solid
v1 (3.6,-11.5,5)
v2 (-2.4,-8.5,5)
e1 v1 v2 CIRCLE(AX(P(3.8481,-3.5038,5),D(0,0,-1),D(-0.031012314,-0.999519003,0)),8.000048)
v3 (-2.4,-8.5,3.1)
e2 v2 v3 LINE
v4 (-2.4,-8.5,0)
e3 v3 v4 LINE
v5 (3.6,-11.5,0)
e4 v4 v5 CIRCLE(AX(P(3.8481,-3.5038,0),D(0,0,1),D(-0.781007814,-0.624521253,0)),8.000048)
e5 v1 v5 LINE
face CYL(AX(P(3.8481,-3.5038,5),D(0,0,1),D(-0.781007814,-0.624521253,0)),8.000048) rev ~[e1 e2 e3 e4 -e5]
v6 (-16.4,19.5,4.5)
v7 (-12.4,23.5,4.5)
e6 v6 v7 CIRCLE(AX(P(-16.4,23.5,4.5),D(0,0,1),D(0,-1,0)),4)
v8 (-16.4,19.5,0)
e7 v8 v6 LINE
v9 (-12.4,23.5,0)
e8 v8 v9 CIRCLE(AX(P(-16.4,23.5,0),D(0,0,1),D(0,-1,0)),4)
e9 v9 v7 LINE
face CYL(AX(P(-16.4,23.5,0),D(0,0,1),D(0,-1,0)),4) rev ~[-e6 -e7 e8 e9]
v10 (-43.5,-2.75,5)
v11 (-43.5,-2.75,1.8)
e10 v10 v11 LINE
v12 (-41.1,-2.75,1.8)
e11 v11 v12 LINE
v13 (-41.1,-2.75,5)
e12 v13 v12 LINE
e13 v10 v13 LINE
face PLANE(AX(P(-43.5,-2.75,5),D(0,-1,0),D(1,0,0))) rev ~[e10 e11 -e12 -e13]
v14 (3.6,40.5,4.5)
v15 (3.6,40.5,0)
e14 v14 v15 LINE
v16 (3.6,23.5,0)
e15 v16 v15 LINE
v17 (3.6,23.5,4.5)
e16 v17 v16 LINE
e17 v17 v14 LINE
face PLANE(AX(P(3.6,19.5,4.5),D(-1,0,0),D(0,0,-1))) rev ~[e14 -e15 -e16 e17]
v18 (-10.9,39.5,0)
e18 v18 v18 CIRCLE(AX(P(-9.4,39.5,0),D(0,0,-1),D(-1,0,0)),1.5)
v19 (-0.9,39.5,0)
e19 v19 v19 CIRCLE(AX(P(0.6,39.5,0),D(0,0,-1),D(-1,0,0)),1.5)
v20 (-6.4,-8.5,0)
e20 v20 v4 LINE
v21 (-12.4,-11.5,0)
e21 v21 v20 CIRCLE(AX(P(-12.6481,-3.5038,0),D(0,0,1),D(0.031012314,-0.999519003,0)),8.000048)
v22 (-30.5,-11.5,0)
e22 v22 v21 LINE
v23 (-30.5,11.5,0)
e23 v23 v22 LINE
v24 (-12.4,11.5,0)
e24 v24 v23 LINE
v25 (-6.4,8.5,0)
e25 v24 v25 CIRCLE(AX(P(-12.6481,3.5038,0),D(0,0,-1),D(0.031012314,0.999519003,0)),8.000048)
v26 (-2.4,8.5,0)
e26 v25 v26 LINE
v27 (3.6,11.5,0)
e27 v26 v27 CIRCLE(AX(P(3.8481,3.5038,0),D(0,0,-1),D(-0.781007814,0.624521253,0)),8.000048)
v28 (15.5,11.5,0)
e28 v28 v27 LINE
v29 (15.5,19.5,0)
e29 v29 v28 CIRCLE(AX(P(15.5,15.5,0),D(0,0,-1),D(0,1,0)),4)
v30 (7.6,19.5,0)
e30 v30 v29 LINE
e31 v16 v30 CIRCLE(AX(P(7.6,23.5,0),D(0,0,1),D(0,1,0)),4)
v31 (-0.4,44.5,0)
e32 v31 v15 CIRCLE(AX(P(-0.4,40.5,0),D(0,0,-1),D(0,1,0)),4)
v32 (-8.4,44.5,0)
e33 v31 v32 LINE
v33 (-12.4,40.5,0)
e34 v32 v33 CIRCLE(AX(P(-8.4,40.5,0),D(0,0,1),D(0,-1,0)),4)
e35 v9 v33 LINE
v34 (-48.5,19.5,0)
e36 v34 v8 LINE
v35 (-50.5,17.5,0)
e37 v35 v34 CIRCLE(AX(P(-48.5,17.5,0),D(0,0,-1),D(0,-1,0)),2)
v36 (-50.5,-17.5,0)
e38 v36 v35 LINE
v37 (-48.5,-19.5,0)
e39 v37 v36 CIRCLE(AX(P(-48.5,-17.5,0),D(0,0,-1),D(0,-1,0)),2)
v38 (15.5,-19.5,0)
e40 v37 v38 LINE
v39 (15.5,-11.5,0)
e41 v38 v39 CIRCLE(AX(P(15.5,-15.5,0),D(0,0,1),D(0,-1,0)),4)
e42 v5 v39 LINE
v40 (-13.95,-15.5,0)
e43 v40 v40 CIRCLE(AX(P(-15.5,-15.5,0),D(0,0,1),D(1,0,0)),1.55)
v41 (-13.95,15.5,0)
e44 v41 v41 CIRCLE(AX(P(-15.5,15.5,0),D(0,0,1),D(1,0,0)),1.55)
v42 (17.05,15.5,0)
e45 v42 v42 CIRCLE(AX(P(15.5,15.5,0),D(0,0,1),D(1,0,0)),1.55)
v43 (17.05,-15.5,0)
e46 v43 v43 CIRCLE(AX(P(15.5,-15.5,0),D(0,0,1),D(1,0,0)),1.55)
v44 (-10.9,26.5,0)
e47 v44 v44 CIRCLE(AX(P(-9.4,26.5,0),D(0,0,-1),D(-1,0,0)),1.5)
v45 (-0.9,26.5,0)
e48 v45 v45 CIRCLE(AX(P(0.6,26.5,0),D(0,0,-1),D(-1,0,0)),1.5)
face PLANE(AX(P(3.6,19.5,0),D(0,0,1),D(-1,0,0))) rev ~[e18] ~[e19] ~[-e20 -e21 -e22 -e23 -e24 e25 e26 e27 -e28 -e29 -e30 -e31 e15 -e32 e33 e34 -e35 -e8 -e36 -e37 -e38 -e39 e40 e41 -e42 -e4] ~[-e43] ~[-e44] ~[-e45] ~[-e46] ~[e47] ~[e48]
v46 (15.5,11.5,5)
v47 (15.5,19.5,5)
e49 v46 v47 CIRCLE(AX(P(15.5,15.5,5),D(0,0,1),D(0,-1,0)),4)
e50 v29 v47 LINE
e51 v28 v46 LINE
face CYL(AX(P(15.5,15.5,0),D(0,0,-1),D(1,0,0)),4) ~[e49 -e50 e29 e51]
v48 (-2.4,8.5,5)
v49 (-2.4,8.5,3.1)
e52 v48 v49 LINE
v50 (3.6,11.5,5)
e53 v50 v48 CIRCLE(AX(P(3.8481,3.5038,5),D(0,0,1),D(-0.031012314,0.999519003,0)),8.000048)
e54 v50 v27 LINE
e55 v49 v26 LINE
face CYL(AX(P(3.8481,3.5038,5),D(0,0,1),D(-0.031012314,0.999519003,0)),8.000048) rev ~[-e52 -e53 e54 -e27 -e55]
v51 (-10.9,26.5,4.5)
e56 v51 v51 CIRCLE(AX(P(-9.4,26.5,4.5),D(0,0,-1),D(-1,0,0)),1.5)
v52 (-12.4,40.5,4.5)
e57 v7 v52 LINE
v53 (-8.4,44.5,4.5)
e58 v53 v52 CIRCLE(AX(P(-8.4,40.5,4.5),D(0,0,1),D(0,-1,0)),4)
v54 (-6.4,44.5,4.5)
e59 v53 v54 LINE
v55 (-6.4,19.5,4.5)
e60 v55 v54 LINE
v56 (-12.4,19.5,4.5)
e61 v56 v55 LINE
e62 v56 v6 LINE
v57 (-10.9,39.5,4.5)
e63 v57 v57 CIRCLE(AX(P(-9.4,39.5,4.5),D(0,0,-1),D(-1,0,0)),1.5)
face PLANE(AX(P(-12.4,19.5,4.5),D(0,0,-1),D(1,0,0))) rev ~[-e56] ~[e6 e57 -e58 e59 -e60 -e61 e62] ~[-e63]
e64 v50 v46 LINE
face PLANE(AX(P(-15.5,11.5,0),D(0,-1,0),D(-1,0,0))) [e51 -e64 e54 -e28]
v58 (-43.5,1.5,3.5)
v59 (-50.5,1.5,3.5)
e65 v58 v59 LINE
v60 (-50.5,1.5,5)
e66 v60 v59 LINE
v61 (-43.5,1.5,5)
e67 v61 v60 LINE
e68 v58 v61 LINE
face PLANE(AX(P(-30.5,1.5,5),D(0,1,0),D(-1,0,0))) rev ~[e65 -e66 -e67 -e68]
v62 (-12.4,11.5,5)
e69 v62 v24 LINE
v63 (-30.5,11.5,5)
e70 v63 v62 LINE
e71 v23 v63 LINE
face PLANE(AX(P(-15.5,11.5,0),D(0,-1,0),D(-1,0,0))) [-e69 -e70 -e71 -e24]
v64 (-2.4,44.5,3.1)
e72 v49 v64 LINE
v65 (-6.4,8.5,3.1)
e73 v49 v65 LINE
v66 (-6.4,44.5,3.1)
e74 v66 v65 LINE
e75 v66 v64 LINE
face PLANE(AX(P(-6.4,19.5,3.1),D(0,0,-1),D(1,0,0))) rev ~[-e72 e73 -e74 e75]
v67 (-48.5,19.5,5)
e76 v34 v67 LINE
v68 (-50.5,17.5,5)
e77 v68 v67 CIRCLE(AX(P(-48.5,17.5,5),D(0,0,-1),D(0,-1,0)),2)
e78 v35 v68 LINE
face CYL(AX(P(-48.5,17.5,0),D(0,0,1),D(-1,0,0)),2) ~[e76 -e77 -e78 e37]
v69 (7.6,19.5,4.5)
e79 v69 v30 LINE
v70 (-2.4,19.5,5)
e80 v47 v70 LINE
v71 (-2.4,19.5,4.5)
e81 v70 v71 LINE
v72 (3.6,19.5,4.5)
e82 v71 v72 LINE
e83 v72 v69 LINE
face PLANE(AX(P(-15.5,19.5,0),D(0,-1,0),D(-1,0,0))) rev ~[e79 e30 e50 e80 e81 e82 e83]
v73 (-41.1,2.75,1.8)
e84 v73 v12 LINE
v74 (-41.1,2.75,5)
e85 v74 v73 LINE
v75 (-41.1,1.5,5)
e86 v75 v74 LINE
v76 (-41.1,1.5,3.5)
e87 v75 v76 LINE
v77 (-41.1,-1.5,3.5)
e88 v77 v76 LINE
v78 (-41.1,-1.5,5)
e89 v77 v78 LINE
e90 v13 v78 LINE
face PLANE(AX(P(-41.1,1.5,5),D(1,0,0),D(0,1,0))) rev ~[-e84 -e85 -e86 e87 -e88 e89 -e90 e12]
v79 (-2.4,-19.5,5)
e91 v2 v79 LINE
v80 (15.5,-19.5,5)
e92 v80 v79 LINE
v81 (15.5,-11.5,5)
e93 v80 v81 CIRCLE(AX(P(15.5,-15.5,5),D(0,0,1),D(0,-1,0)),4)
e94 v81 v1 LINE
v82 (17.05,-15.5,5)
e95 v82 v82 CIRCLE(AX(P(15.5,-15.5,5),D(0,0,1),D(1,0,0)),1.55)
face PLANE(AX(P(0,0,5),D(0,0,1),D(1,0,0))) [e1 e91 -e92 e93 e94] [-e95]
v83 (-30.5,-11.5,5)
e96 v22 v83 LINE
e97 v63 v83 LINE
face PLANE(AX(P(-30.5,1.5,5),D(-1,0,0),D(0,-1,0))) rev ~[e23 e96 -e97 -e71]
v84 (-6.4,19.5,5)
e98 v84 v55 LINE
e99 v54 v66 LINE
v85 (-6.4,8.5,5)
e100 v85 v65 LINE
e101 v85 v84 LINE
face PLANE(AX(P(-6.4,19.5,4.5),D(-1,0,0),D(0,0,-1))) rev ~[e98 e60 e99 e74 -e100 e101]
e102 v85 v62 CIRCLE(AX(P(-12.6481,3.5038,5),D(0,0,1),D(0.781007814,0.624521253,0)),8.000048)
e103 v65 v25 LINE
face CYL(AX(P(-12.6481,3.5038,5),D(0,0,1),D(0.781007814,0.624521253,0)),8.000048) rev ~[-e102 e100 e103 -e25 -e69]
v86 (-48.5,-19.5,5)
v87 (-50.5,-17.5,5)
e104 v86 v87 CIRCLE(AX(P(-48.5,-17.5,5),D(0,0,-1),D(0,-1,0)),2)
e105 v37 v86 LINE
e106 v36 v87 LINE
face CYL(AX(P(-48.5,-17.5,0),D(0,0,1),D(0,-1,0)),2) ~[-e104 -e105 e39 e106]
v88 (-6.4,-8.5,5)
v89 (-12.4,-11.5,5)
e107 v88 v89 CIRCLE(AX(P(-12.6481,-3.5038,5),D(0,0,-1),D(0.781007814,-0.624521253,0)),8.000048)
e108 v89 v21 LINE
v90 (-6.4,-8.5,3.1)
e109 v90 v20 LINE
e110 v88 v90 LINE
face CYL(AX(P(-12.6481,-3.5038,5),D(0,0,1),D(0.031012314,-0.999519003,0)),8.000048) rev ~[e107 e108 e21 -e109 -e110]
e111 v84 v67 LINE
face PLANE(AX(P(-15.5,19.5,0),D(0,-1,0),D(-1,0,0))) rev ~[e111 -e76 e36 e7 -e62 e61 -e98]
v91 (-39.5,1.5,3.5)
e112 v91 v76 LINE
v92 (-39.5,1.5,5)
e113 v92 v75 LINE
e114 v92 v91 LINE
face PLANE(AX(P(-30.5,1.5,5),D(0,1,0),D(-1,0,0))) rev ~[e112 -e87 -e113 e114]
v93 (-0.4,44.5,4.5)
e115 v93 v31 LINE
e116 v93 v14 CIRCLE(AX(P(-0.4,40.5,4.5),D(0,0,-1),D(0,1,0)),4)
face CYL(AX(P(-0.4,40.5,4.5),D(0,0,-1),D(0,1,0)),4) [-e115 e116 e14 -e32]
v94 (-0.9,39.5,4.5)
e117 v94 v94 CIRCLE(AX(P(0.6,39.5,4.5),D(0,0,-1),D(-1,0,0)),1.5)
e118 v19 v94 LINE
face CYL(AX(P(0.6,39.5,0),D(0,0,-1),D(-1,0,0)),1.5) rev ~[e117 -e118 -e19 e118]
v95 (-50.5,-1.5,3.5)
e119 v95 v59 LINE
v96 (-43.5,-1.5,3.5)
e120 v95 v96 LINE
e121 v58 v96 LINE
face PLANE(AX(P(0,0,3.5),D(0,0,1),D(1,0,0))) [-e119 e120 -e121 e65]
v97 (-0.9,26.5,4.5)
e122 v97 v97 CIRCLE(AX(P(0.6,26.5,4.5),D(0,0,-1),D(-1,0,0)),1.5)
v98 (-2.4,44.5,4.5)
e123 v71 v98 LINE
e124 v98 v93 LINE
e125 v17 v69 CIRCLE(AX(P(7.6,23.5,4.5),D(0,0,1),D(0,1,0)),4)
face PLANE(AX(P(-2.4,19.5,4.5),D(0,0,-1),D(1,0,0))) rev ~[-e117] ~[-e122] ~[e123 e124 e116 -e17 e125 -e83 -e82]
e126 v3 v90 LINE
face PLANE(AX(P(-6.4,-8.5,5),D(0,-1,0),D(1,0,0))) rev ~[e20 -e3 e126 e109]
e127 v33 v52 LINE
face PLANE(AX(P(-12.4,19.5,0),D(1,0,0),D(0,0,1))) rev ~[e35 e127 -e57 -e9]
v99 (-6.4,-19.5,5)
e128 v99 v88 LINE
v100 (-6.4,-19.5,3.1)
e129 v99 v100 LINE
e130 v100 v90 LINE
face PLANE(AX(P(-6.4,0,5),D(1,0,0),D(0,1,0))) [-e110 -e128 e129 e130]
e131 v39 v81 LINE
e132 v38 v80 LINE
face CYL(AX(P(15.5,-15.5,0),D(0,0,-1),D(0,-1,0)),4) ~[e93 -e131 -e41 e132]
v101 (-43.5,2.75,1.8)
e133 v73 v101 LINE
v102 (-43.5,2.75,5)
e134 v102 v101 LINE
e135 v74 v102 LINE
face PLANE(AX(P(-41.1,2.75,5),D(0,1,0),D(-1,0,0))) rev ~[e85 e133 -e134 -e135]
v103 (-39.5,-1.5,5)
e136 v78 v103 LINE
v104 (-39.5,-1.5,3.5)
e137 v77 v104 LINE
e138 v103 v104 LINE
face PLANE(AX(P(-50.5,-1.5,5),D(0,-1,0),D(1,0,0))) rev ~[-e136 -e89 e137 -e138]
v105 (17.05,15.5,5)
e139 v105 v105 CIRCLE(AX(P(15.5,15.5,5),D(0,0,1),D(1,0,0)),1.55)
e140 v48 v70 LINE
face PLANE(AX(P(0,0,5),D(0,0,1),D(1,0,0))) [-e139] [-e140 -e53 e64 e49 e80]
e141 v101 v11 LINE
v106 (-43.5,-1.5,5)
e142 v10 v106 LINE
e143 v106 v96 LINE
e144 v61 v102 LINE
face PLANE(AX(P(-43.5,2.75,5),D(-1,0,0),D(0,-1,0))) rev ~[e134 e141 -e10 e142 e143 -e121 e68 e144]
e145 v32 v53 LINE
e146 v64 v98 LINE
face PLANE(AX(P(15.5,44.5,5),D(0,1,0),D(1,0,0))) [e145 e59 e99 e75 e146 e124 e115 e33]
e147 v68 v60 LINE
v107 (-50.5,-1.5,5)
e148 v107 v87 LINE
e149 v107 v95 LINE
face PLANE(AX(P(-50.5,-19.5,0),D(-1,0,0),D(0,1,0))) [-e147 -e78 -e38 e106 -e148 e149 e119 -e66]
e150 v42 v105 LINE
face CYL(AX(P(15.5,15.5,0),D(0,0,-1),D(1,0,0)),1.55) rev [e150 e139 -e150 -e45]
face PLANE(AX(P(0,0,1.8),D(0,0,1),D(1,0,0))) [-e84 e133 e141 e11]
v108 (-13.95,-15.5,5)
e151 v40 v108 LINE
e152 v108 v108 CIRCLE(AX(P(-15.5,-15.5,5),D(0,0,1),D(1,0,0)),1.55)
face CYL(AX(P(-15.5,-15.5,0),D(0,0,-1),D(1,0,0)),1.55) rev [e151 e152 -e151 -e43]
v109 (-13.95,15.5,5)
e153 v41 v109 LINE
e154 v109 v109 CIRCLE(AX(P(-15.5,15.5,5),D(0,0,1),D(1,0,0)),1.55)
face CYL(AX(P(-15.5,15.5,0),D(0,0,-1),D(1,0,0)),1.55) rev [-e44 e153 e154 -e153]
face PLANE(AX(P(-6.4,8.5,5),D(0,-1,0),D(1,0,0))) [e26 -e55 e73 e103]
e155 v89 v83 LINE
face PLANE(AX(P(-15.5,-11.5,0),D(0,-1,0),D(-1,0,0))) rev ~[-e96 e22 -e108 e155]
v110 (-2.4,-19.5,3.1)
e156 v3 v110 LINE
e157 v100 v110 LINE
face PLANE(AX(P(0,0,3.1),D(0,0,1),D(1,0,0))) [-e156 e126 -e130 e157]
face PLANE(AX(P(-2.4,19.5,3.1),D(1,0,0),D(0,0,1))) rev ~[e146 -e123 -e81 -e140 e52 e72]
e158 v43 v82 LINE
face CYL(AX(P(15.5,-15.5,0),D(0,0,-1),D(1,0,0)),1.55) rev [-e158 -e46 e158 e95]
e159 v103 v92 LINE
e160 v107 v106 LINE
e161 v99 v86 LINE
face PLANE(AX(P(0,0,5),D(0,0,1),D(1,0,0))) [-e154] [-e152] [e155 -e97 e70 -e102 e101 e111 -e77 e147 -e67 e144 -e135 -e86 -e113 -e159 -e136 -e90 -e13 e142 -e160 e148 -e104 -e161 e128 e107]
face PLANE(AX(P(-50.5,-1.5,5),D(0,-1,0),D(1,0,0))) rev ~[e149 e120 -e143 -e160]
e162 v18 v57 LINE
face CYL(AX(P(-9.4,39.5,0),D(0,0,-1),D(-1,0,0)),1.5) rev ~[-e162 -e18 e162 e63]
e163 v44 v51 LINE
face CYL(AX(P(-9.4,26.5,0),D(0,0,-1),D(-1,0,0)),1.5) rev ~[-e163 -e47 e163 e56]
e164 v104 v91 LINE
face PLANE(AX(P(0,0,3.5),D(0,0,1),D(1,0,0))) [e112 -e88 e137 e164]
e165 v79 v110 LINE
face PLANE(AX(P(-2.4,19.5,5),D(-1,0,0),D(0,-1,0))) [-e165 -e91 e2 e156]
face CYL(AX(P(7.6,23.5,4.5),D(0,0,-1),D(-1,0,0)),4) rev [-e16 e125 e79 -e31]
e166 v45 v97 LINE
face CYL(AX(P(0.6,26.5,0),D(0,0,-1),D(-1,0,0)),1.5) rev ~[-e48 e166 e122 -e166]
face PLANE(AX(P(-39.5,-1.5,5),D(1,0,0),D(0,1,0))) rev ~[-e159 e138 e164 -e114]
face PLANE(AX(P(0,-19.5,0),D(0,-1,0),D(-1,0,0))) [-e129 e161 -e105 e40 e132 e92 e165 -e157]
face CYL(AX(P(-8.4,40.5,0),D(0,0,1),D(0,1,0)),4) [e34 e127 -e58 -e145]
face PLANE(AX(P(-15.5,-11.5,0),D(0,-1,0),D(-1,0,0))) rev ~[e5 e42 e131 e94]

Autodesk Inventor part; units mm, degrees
ref_plane "YZ Plane" through (0, 0, 0) normal (1, 0, 0) x (0, 1, 0)
ref_plane "XZ Plane" through (0, 0, 0) normal (0, 1, 0) x (-1, 0, 0)
sketch "Skizze1" plane through (0, 0, 0) normal (0, 0, 1) x (1, 0, 0)
  line L0 (0, -27.3) -> (0, 27.3) projected
  line L1 (-71.7, 0) -> (34.7, 0) projected
  circle A0 centre (-15.5, 15.5) radius 1.55
  circle A1 centre (15.5, 15.5) radius 1.55
  circle A2 centre (-15.5, -15.5) radius 1.55
  circle A3 centre (15.5, -15.5) radius 1.55
  circle A4 centre (-16.5, 0) radius 11
  circle A5 centre (0, 0) radius 5.5
  circle A6 centre (-16.5, 0) radius 4
  arc A7 (-16.5, -7.5) -> (-16.5, 7.5) centre (-16.5, 0) ccw
  line L2 (-16.5, 7.5) -> (-36.5, 7.5)
  line L3 (-36.5, 7.5) -> (-56.5, 7.5)
  line L4 (-56.5, 7.5) -> (-56.5, -7.5)
  line L5 (-56.5, -7.5) -> (-16.5, -7.5)
  circle A8 centre (15.5, 15.5) radius 4
  circle A9 centre (-15.5, 15.5) radius 4
  line L6 (15.5, 11.5) -> (-15.5, 11.5)
  line L7 (15.5, 19.5) -> (-15.5, 19.5)
  line L8 (-15.5, 19.5) -> (-50.5, 19.5)
  line L9 (-15.5, 11.5) -> (-30.5, 11.5)
  line L10 (-50.5, 19.5) -> (-50.5, 0)
  line L11 (-30.5, 11.5) -> (-30.5, 0)
  line L12 (-15.5, -19.5) -> (-50.5, -19.5)
  line L13 (-15.5, -11.5) -> (-30.5, -11.5)
  line L14 (-50.5, -19.5) -> (-50.5, 0)
  line L15 (-30.5, -11.5) -> (-30.5, 0)
  line L16 (15.5, -11.5) -> (-15.5, -11.5)
  line L17 (15.5, -19.5) -> (-15.5, -19.5)
  line L18 (-15.5, -11.5) -> (15.5, -11.5)
  line L19 (15.5, -19.5) -> (-15.5, -19.5)
  line L20 (-30.5, -11.5) -> (15.5, -11.5)
  line L21 (15.5, -19.5) -> (-50.5, -19.5)
  arc A10 (15.5, -19.5) -> (15.5, -11.5) centre (15.5, -15.5) ccw
  point P0 (-50.5, 7.5)
  point P1 (-30.5, 7.5)
  dimension "d0" = 3.1
  dimension "d1" = 15.5
  dimension "d2" = 15.5
  dimension "d3" = 22
  dimension "d4" = 16.5
  dimension "d5" = 11
  dimension "d6" = 8
  dimension "d7" = 15
  dimension "d10" = 15
  dimension "d11" = 40
  dimension "d17" = 8
  dimension "d19" = 8
  dimension "d22" = 35
  dimension "d23" = 15
ref_plane "Arbeitsebene1" through (0, 0, 5) normal (0, 0, 1) x (1, 0, 0)
extrude "Extrusion5" add sketch "Skizze1" along normal blind 5 contours L17 L12 L14 L5 L15 L13 L16 L0 | L0 L16 A10 L17 | L14 L1 L15 L5 | L10 L3 L2 L11 L1 | L6 A9 L7 L0 | L0 L7 A8 L6 | L2 L3 L10 L8 A9 L9 L11 | A8 | A9
sketch "Skizze4" plane through (0, 0, 5) normal (0, 0, 1) x (1, 0, 0)
  line L0 (-30.5, 11.5) -> (15.5, 11.5) projected
  arc A0 (15.5, 11.5) -> (15.5, 19.5) centre (15.5, 15.5) ccw projected
  line L1 (15.5, 19.5) -> (-50.5, 19.5) projected
  line L2 (-50.5, 19.5) -> (-50.5, -19.5) projected
  line L3 (-50.5, -19.5) -> (15.5, -19.5) projected
  arc A1 (15.5, -19.5) -> (15.5, -11.5) centre (15.5, -15.5) ccw projected
  line L4 (15.5, -11.5) -> (-30.5, -11.5) projected
  line L5 (-30.5, -11.5) -> (-30.5, 11.5) projected
  circle A2 centre (15.5, 15.5) radius 1.55 projected
  circle A3 centre (15.5, -15.5) radius 1.55 projected
  circle A4 centre (-15.5, -15.5) radius 1.55 projected
  circle A5 centre (-15.5, 15.5) radius 1.55 projected
  line L6 (-64.5, 0) -> (33.5, 0) projected
  line L7 (-30.5, -11.5) -> (-30.5, 11.5) projected
  line L8 (-50.5, -1.5) -> (-30.5, -1.5)
  line L9 (-30.5, -1.5) -> (-30.5, 1.5)
  line L10 (-30.5, 1.5) -> (-50.5, 1.5)
  line L11 (-50.5, 1.5) -> (-50.5, -1.5)
  point P0 (0, 0)
  dimension "d34" = 3
extrude "Extrusion8" cut sketch "Skizze4" against normal blind 1.5 contours L5 L6 L2 L10 | L5 L8 L2 L6
sketch "Skizze5" plane through (0, 0, 5) normal (0, 0, 1) x (1, 0, 0)
  line L0 (-50.5, 1.5) -> (-30.5, 1.5) projected
  line L1 (-30.5, 1.5) -> (-30.5, 11.5) projected
  line L2 (-30.5, 11.5) -> (15.5, 11.5) projected
  arc A0 (15.5, 11.5) -> (15.5, 19.5) centre (15.5, 15.5) ccw projected
  line L3 (15.5, 19.5) -> (-50.5, 19.5) projected
  line L4 (-50.5, 19.5) -> (-50.5, 1.5) projected
  circle A1 centre (15.5, 15.5) radius 1.55 projected
  circle A2 centre (-15.5, 15.5) radius 1.55 projected
  circle A3 centre (-15.5, -15.5) radius 1.55 projected
  circle A4 centre (15.5, -15.5) radius 1.55 projected
  line L5 (-30.5, -1.5) -> (-50.5, -1.5) projected
  line L6 (-50.5, -1.5) -> (-50.5, -19.5) projected
  line L7 (-50.5, -19.5) -> (15.5, -19.5) projected
  arc A5 (15.5, -19.5) -> (15.5, -11.5) centre (15.5, -15.5) ccw projected
  line L8 (15.5, -11.5) -> (-30.5, -11.5) projected
  line L9 (-30.5, -11.5) -> (-30.5, -1.5) projected
  line L10 (-30.5, -1.5) -> (-50.5, -1.5) projected
  line L11 (-30.5, 1.5) -> (-30.5, -1.5) projected
  line L12 (-50.5, 1.5) -> (-30.5, 1.5) projected
  line L13 (-50.5, -1.5) -> (-50.5, 1.5) projected
  line L14 (-64.5, 0) -> (33.5, 0) projected
  line L15 (-43.5, -2.75) -> (-41.1, -2.75)
  line L16 (-41.1, -2.75) -> (-41.1, 2.75)
  line L17 (-41.1, 2.75) -> (-43.5, 2.75)
  line L18 (-43.5, 2.75) -> (-43.5, -2.75)
  point P0 (0, 0)
  dimension "d37" = 2.4
  dimension "d38" = 5.5
  dimension "d39" = 7
extrude "Extrusion9" cut sketch "Skizze5" against normal blind 3.2 contours L18 L17 L16 L0 | L0 L16 L14 L18 | L14 L16 L5 L18 | L5 L16 L15 L18
sketch "Skizze6" plane through (0, 0, 5) normal (0, 0, 1) x (1, 0, 0)
  line L0 (15.5, 19.5) -> (-50.5, 19.5) projected
  line L1 (-50.5, -19.5) -> (15.5, -19.5) projected
  line L2 (-6.4, 19.5) -> (-2.4, 19.5)
  line L3 (-2.4, 19.5) -> (-2.4, -19.5)
  line L4 (-2.4, -19.5) -> (-6.4, -19.5)
  line L5 (-6.4, -19.5) -> (-6.4, 19.5)
  line L6 (-41.1, -1.5) -> (-41.1, -2.75) projected
  line L7 (-41.1, -2.75) -> (-43.5, -2.75) projected
  line L8 (-43.5, -2.75) -> (-43.5, -1.5) projected
  line L9 (-43.5, -1.5) -> (-50.5, -1.5) projected
  line L10 (-50.5, -1.5) -> (-50.5, -19.5) projected
  line L11 (-50.5, -19.5) -> (15.5, -19.5) projected
  arc A0 (15.5, -19.5) -> (15.5, -11.5) centre (15.5, -15.5) ccw projected
  line L12 (15.5, -11.5) -> (-30.5, -11.5) projected
  line L13 (-30.5, -11.5) -> (-30.5, -1.5) projected
  line L14 (-30.5, -1.5) -> (-41.1, -1.5) projected
  circle A1 centre (15.5, -15.5) radius 1.55 projected
  circle A2 centre (-15.5, -15.5) radius 1.55 projected
  line L15 (0, -27.3) -> (0, 27.3) projected
  line L16 (-64.5, 0) -> (33.5, 0) projected
  circle A3 centre (0, 0) radius 3.5191
  dimension "d42" = 4
  dimension "d43" = 2.4
extrude "Extrusion10" cut sketch "Skizze6" against normal blind 1.9 contours L3 A3 L16 L5 L0 | L3 L16 A3 | L16 A3 L3 L12 L5 | L3 A3 L16 | L12 L3 L1 L5
fillet "Rundung1" radius 2 1 edges at (-50.5, -19.5, 2.5)
fillet "Rundung2" radius 2 1 edges at (-50.5, 19.5, 2.5)
sketch "Skizze11" plane through (0, 0, 5) normal (0, 0, 1) x (1, 0, 0)
  line L0 (-2.4, 11.5) -> (-6.4, 11.5) projected
  line L1 (-2.4, 19.5) -> (-2.4, 11.5) projected
  line L2 (-6.4, 19.5) -> (-2.4, 19.5) projected
  line L3 (-6.4, 11.5) -> (-6.4, 19.5) projected
  arc A0 (-48.5, 19.5) -> (-50.5, 17.5) centre (-48.5, 17.5) ccw projected
  line L4 (-50.5, 17.5) -> (-50.5, 1.5) projected
  line L5 (-50.5, 1.5) -> (-43.5, 1.5) projected
  line L6 (-43.5, 1.5) -> (-43.5, 2.75) projected
  line L7 (-43.5, 2.75) -> (-41.1, 2.75) projected
  line L8 (-41.1, 2.75) -> (-41.1, 1.5) projected
  line L9 (-41.1, 1.5) -> (-30.5, 1.5) projected
  line L10 (-30.5, 1.5) -> (-30.5, 11.5) projected
  line L11 (-30.5, 11.5) -> (-6.4, 11.5) projected
  line L12 (-6.4, 11.5) -> (-6.4, 19.5) projected
  line L13 (-6.4, 19.5) -> (-48.5, 19.5) projected
  circle A1 centre (-15.5, 15.5) radius 1.55 projected
  line L14 (-2.4, 19.5) -> (-2.4, 11.5) projected
  line L15 (-2.4, 11.5) -> (15.5, 11.5) projected
  arc A2 (15.5, 11.5) -> (15.5, 19.5) centre (15.5, 15.5) ccw projected
  line L16 (15.5, 19.5) -> (-2.4, 19.5) projected
  circle A3 centre (15.5, 15.5) radius 1.55 projected
  circle A4 centre (-15.5, -15.5) radius 1.55 projected
  arc A5 (-50.5, -17.5) -> (-48.5, -19.5) centre (-48.5, -17.5) ccw projected
  line L17 (-48.5, -19.5) -> (-6.4, -19.5) projected
  line L18 (-6.4, -19.5) -> (-6.4, -11.5) projected
  line L19 (-6.4, -11.5) -> (-30.5, -11.5) projected
  line L20 (-30.5, -11.5) -> (-30.5, -1.5) projected
  line L21 (-30.5, -1.5) -> (-41.1, -1.5) projected
  line L22 (-41.1, -1.5) -> (-41.1, -2.75) projected
  line L23 (-41.1, -2.75) -> (-43.5, -2.75) projected
  line L24 (-43.5, -2.75) -> (-43.5, -1.5) projected
  line L25 (-43.5, -1.5) -> (-50.5, -1.5) projected
  line L26 (-50.5, -1.5) -> (-50.5, -17.5) projected
  line L27 (-6.4, -11.5) -> (-2.4, -11.5) projected
  line L28 (-6.4, -19.5) -> (-6.4, -11.5) projected
  line L29 (-2.4, -19.5) -> (-6.4, -19.5) projected
  line L30 (-2.4, -11.5) -> (-2.4, -19.5) projected
  line L31 (-2.4, -11.5) -> (-2.4, -19.5) projected
  line L32 (-2.4, -19.5) -> (15.5, -19.5) projected
  arc A6 (15.5, -19.5) -> (15.5, -11.5) centre (15.5, -15.5) ccw projected
  line L33 (15.5, -11.5) -> (-2.4, -11.5) projected
  circle A7 centre (15.5, -15.5) radius 1.55 projected
  line L34 (-6.4, 11.5) -> (-6.4, 8.5)
  line L35 (-6.4, 8.5) -> (-2.4, 8.5)
  line L36 (-2.4, 8.5) -> (-2.4, 11.5)
  line L37 (-30.5, 11.5) -> (-6.4, 11.5) projected
  arc A8 (-6.4, 8.5) -> (-12.4, 11.5) centre (-12.6481, 3.5038) ccw
  line L38 (-30.5, 11.5) -> (15.5, 11.5) projected
  arc A9 (3.6, 11.5) -> (-2.4, 8.5) centre (3.8481, 3.5038) ccw
  line L39 (-64.9971, 0) -> (33.5828, 0) projected
  line L40 (-6.4, -11.5) -> (-6.4, -8.5)
  line L41 (-6.4, -8.5) -> (-2.4, -8.5)
  line L42 (-2.4, -8.5) -> (-2.4, -11.5)
  arc A10 (-12.4, -11.5) -> (-6.4, -8.5) centre (-12.6481, -3.5038) ccw
  arc A11 (-2.4, -8.5) -> (3.6, -11.5) centre (3.8481, -3.5038) ccw
  circle A12 centre (0, 0) radius 12 projected
  line L43 (-12.4, 11.5) -> (3.6, 11.5)
  line L44 (-12.4, -11.5) -> (3.6, -11.5)
  line L45 (15.5, -11.5) -> (-30.5, -11.5) projected
  point P0 (0, 0)
  dimension "d61" = 3
  dimension "d62" = 4
  dimension "d63" = 8
  dimension "d64" = 8
  dimension "d65" = 6
  dimension "d66" = 6
extrude "Extrusion13" add sketch "Skizze11" against normal blind 5 contours L36 L35 L34 A12 L0 | L15 A12 A9 L36 | A12 L34 L0 | L15 A9 A12 | L34 A12 A8 L11 | L34 A8 A12 | A12 L33 L42 A11 | A11 L33 A12 | A12 L40 L19 A10 | A10 L40 A12 | L42 L27 A12 L40 L41 | A12 L27 L40
sketch "Skizze12" plane through (0, 0, 5) normal (0, 0, 1) x (1, 0, 0)
  line L0 (-2.4, 11.5) -> (-6.4, 11.5) projected
  line L1 (-2.4, 19.5) -> (-2.4, 11.5) projected
  line L2 (-6.4, 19.5) -> (-2.4, 19.5) projected
  line L3 (-6.4, 11.5) -> (-6.4, 19.5) projected
  line L4 (-6.4, -11.5) -> (-2.4, -11.5) projected
  line L5 (-6.4, -19.5) -> (-6.4, -11.5) projected
  line L6 (-2.4, -19.5) -> (-6.4, -19.5) projected
  line L7 (-2.4, -11.5) -> (-2.4, -19.5) projected
  line L8 (-6.4, -11.5) -> (-2.4, -11.5)
  line L9 (-2.4, -11.5) -> (-2.4, 11.5)
  line L10 (-2.4, 11.5) -> (-6.4, 11.5)
  line L11 (-6.4, 11.5) -> (-6.4, -11.5)
  point P0 (0, 0)
extrude "Extrusion14" cut sketch "Skizze12" against normal blind 1.9 contours L9 L4 L11 L0
sketch "Skizze13" plane through (0, 0, 5) normal (0, 0, 1) x (1, 0, 0)
  line L0 (-41.1, 1.5) -> (-41.1, -1.5) projected
  line L1 (-30.5, -1.5) -> (-41.1, -1.5) projected
  line L2 (-30.5, 1.5) -> (-30.5, -1.5) projected
  line L3 (-41.1, 1.5) -> (-30.5, 1.5) projected
  line L4 (-6.4, -19.5) -> (-6.4, -8.5) projected
  arc A0 (-12.4, -11.5) -> (-6.4, -8.5) centre (-12.6481, -3.5038) ccw projected
  line L5 (-12.4, -11.5) -> (-30.5, -11.5) projected
  line L6 (-30.5, -11.5) -> (-30.5, -1.5) projected
  line L7 (-30.5, -1.5) -> (-41.1, -1.5) projected
  line L8 (-41.1, -1.5) -> (-41.1, -2.75) projected
  line L9 (-41.1, -2.75) -> (-43.5, -2.75) projected
  line L10 (-43.5, -2.75) -> (-43.5, -1.5) projected
  line L11 (-43.5, -1.5) -> (-50.5, -1.5) projected
  line L12 (-50.5, -1.5) -> (-50.5, -17.5) projected
  arc A1 (-50.5, -17.5) -> (-48.5, -19.5) centre (-48.5, -17.5) ccw projected
  line L13 (-48.5, -19.5) -> (-6.4, -19.5) projected
  circle A2 centre (-15.5, -15.5) radius 1.55 projected
  circle A3 centre (-15.5, 15.5) radius 1.55 projected
  line L14 (-6.4, 8.5) -> (-6.4, 19.5) projected
  line L15 (-6.4, 19.5) -> (-48.5, 19.5) projected
  arc A4 (-48.5, 19.5) -> (-50.5, 17.5) centre (-48.5, 17.5) ccw projected
  line L16 (-50.5, 17.5) -> (-50.5, 1.5) projected
  line L17 (-50.5, 1.5) -> (-43.5, 1.5) projected
  line L18 (-43.5, 1.5) -> (-43.5, 2.75) projected
  line L19 (-43.5, 2.75) -> (-41.1, 2.75) projected
  line L20 (-41.1, 2.75) -> (-41.1, 1.5) projected
  line L21 (-41.1, 1.5) -> (-30.5, 1.5) projected
  line L22 (-30.5, 1.5) -> (-30.5, 11.5) projected
  line L23 (-30.5, 11.5) -> (-12.4, 11.5) projected
  arc A5 (-6.4, 8.5) -> (-12.4, 11.5) centre (-12.6481, 3.5038) ccw projected
  line L24 (-41.1, 1.5) -> (-30.5, 1.5) projected
  line L25 (-30.5, -1.5) -> (-39.5, -1.5)
  line L26 (-39.5, -1.5) -> (-39.5, 1.5)
  line L27 (-39.5, 1.5) -> (-30.5, 1.5)
  line L28 (-30.5, 1.5) -> (-30.5, -1.5)
  point P0 (0, 0)
  dimension "d71" = 9
extrude "Extrusion15" add sketch "Skizze13" against normal blind 1.5 contours L3 L2 L1 L26
sketch "Skizze18" plane through (15.5, 19.5, 5) normal (0, 1, 0) x (1, 0, 0)
  line L0 (-23.9, -5) -> (-15.9, -5) projected
  line L1 (-17.9, -0.5) -> (-17.9, -1.9) projected
  line L2 (-17.9, -1.9) -> (-21.9, -1.9) projected
  line L3 (-21.9, -1.9) -> (-21.9, -0.5) projected
  line L4 (-17.9, 0) -> (-17.9, 0.5)
  line L5 (-17.9, 1.9) -> (-17.9, 0) projected
  line L6 (-17.9, 0.5) -> (-11.9, 0.5)
  line L7 (-11.9, 0) -> (-11.9, 5) projected
  line L8 (-11.9, 0.5) -> (-11.9, 5)
  line L9 (-11.9, 5) -> (-27.9, 5)
  line L10 (-64, 5) -> (0, 5) projected
  line L11 (-27.9, 5) -> (-27.9, 0.5)
  line L12 (-27.9, 0) -> (-27.9, 5) projected
  line L13 (-27.9, 0.5) -> (-21.9, 0.5)
  line L14 (-21.9, 0.5) -> (-21.9, 1.9)
  line L15 (-21.9, 1.9) -> (-17.9, 1.9)
  line L16 (-17.9, 1.9) -> (-17.9, 0.5)
  line L17 (-15.9, -0.5) -> (-15.9, -5) projected
  line L18 (-15.9, -0.5) -> (-17.9, -0.5) projected
  line L19 (-21.9, -0.5) -> (-23.9, -0.5) projected
  line L20 (-23.9, -5) -> (-23.9, -0.5) projected
  point P0 (-15.5, 5)
  dimension "d89" = 0.5
  dimension "d90" = 4.5
extrude "Extrusion18" add sketch "Skizze18" along normal blind 25 contours L15 L14 L13 L11 L9 L7 L6 L5
sketch "Skizze19" plane through (0, 0, 0) normal (0, 0, -1) x (-1, 0, 0)
  circle A0 centre (-0.6, 39.5) radius 1.5 projected
  circle A1 centre (9.4, 39.5) radius 1.5 projected
  circle A2 centre (9.4, 26.5) radius 1.5 projected
  circle A3 centre (-0.6, 26.5) radius 1.5 projected
  point P0 (0, 0)
extrude "Extrusion19" cut sketch "Skizze19" against normal blind 5
fillet "Rundung3" radius 4 4 edges at (3.6, 19.5, 2.25) (3.6, 44.5, 2.25) (-12.4, 44.5, 2.25) (-12.4, 19.5, 2.25)
properties part number "Drückbrücke_U_Gespiegelt" material "ABS-Kunststoff"
